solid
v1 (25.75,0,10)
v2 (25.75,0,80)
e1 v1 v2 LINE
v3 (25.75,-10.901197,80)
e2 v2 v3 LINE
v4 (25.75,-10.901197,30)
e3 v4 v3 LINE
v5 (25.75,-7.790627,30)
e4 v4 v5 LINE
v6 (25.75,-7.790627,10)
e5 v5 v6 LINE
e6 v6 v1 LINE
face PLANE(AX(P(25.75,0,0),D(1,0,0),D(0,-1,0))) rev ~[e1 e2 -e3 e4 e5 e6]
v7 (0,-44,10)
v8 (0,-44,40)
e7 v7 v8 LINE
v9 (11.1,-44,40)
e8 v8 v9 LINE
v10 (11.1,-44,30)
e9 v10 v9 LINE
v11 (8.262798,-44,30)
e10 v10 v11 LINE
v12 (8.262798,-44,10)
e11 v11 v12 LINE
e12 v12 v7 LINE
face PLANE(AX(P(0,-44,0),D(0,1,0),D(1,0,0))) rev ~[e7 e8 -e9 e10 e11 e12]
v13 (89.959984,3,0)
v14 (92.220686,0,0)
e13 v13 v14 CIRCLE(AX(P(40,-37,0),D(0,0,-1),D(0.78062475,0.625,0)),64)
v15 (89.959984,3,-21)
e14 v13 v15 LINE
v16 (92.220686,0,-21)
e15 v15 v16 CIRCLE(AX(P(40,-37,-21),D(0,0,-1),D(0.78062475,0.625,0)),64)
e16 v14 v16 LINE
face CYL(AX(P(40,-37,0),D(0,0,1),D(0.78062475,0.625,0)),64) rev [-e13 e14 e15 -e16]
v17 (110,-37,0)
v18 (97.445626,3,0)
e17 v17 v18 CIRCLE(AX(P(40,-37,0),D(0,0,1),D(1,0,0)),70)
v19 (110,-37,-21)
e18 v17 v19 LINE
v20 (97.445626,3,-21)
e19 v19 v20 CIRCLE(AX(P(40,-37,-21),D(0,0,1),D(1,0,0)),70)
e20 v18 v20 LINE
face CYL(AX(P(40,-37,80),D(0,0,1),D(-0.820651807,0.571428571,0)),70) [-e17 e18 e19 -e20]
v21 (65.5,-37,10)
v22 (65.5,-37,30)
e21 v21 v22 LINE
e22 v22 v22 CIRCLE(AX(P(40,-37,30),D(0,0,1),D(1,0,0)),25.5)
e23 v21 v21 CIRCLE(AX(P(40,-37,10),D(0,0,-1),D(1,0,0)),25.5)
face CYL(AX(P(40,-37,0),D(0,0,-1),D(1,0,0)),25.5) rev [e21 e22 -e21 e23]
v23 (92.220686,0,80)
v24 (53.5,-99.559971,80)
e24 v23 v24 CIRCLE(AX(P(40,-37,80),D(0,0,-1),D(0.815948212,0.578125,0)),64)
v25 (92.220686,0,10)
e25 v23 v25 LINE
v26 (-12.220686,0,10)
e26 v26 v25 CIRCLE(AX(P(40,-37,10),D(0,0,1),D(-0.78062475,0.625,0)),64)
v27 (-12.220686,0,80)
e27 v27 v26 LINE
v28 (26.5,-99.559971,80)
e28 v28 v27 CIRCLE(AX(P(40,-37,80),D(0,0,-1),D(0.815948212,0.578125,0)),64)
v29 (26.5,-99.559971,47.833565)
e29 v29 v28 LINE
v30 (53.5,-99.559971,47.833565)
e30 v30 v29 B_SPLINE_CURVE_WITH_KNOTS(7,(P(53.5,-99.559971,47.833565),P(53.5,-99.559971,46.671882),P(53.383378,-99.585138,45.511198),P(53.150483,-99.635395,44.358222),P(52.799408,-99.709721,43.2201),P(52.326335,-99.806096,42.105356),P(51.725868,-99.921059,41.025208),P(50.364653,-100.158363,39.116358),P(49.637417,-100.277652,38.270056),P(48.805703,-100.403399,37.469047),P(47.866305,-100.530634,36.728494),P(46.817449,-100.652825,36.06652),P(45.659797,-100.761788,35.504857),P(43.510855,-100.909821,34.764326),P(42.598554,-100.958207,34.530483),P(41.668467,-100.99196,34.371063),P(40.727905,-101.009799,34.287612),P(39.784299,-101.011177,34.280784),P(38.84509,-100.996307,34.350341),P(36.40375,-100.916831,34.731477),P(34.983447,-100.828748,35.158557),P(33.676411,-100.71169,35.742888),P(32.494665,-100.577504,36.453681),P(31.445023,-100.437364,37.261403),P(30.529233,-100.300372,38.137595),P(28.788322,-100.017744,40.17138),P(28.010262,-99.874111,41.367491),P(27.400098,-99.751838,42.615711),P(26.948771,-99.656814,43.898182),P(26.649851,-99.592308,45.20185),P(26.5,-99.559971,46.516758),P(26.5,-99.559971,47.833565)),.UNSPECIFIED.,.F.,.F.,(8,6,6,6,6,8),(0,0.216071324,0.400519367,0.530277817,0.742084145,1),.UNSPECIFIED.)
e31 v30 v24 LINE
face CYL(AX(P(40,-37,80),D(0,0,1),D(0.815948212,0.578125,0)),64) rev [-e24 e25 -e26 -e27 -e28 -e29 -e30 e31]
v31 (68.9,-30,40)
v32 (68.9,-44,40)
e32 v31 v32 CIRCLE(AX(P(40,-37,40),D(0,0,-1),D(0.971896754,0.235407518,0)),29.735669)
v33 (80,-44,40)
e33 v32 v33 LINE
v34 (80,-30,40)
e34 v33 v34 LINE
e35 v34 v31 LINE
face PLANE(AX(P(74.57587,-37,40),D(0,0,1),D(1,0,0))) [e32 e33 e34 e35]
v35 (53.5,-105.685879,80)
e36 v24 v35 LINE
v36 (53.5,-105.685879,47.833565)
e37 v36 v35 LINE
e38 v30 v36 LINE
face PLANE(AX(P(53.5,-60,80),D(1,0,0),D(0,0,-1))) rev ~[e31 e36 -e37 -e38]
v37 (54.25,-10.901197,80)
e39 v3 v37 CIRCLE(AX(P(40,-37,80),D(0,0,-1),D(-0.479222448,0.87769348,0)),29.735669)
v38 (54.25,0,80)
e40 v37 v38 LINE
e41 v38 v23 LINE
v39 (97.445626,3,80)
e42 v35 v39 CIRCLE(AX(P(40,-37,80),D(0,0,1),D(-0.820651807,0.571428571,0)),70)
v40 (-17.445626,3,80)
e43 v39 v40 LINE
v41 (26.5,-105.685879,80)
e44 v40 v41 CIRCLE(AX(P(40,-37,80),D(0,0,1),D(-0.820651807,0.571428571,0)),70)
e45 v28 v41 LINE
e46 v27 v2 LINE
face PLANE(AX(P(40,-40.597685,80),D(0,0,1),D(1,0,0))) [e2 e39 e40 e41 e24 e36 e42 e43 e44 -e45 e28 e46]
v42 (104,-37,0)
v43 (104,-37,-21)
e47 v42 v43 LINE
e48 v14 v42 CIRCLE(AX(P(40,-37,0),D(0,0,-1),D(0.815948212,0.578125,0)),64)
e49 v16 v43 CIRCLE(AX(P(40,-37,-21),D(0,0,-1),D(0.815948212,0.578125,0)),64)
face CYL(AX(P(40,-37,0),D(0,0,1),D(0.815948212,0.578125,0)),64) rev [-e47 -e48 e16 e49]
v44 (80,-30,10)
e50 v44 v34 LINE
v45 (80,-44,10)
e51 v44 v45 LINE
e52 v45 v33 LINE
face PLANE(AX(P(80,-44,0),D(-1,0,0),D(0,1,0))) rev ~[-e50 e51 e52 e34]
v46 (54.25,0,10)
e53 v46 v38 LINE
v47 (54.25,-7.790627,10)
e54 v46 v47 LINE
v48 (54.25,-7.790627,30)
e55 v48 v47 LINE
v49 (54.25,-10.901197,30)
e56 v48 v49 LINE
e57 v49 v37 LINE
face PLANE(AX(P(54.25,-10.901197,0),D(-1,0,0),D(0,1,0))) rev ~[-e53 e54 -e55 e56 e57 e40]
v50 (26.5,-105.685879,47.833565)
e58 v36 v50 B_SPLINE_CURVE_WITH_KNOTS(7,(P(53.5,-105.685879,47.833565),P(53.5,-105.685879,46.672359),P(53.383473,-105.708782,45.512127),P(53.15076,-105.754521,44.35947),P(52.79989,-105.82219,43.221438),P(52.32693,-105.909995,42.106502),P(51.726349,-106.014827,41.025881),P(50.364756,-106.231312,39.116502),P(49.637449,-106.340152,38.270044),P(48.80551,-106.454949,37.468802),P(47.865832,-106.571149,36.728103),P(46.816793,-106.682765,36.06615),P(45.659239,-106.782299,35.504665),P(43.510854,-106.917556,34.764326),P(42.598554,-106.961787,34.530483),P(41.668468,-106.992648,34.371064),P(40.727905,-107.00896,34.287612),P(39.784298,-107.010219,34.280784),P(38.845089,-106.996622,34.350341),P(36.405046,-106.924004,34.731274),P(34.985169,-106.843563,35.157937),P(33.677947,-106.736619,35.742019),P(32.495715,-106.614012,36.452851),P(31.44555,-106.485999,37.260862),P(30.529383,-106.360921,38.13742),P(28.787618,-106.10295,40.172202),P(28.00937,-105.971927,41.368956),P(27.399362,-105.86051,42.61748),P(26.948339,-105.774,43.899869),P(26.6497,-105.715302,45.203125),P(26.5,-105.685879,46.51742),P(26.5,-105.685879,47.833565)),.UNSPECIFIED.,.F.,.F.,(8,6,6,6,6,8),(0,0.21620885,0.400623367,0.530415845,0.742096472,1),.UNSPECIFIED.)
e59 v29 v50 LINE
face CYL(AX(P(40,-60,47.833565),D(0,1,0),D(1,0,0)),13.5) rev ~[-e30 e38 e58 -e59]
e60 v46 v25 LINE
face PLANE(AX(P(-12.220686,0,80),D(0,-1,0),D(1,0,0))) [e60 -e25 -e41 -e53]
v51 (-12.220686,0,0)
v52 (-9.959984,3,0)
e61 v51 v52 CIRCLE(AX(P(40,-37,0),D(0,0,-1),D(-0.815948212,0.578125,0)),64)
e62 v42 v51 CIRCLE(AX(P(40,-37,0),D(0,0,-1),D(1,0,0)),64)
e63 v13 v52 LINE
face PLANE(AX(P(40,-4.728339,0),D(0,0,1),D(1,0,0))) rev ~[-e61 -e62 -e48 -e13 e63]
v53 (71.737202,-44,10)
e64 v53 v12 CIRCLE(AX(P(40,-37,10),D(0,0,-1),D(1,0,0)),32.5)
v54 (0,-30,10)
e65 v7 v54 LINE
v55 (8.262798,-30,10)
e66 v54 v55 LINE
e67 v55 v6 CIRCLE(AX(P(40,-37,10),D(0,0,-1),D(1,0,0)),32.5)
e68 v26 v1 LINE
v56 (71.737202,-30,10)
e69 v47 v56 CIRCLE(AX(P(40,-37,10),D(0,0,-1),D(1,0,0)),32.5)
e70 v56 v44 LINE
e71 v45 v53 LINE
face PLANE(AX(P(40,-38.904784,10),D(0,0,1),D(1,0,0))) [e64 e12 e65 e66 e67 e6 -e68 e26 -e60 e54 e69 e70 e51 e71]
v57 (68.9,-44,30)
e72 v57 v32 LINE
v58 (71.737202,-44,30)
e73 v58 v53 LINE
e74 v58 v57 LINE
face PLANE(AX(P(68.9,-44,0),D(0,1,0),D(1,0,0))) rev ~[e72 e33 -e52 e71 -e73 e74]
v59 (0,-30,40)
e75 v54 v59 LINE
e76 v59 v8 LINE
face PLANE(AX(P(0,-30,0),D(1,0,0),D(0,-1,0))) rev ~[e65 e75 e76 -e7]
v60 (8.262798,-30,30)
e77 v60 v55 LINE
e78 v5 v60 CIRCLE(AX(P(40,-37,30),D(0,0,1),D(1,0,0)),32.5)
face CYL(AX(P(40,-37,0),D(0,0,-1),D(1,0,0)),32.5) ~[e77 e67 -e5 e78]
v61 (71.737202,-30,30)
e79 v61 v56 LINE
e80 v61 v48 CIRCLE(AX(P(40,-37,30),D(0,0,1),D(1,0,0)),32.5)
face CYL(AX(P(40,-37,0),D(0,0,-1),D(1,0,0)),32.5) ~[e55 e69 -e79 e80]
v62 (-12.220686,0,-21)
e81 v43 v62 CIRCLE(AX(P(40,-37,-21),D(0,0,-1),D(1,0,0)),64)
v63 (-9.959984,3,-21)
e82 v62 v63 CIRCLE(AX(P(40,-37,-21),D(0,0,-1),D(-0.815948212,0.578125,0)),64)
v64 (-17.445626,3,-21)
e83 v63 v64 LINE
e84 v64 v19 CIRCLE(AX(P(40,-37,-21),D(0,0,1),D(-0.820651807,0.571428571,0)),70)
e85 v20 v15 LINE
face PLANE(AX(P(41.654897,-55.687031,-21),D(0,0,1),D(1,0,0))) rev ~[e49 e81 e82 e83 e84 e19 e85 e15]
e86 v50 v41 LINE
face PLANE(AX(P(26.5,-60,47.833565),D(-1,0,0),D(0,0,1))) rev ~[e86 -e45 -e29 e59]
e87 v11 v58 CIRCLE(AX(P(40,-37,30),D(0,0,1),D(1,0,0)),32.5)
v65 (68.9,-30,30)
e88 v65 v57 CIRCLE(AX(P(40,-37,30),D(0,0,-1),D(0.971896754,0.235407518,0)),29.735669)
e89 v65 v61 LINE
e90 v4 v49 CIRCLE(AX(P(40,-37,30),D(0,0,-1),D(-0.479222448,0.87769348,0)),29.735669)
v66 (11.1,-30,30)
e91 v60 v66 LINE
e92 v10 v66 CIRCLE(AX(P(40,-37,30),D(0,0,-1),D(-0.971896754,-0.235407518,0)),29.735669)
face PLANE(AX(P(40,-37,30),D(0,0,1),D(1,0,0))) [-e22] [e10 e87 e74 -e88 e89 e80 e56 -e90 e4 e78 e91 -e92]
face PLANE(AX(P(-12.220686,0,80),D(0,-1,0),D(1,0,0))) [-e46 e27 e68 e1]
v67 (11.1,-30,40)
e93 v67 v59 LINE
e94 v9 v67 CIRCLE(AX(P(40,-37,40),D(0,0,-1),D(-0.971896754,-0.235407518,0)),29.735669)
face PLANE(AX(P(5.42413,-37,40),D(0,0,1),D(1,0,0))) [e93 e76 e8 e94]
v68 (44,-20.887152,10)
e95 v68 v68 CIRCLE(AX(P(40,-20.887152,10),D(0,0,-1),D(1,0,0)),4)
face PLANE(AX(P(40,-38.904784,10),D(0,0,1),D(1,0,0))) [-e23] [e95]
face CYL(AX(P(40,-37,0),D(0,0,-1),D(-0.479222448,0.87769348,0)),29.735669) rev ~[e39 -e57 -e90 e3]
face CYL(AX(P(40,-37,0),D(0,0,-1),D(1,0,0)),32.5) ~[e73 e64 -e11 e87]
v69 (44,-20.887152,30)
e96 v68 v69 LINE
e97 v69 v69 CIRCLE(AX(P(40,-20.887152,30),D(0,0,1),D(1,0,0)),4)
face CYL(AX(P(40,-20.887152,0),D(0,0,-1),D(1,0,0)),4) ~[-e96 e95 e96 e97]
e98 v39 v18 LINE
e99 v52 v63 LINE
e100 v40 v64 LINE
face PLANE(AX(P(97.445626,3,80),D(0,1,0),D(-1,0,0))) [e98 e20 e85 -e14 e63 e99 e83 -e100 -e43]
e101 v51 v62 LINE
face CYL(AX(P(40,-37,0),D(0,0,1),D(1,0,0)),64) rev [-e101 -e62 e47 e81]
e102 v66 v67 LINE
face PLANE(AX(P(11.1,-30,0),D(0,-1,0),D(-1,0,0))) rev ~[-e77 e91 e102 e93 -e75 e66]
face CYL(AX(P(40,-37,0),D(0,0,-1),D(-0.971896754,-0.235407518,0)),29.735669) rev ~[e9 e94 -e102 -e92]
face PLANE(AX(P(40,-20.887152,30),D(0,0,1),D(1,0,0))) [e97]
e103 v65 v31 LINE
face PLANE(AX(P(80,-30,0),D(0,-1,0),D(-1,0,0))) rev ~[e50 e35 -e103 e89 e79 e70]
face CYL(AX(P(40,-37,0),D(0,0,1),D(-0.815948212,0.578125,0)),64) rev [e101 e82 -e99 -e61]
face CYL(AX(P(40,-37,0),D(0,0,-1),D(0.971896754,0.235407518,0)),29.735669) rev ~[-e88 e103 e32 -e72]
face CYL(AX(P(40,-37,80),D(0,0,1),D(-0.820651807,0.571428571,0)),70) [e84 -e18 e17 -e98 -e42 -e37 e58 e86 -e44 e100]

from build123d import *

# Parameters (mm, degrees)
BOSS_EXTRUDE1_DEPTH = 21
BOSS_EXTRUDE2_DEPTH = 10
SKETCH1_30_R        = 32.5
SKETCH1_30_R_2      = 25.5
SKETCH1_30_R_3      = 4
BOSS_EXTRUDE3_DEPTH = 30
BOSS_EXTRUDE5_DEPTH = 40
BOSS_EXTRUDE6_DEPTH = 80
BOSS_EXTRUDE7_START = 80
BOSS_EXTRUDE7_DEPTH = 80
CUT_EXTRUDE2_DEPTH  = 99


with BuildPart() as part:
    # Sketch1 → Boss-Extrude1 (new body)
    with BuildSketch(Plane.XY):
        with BuildLine():
            ThreePointArc((89.959983987, 3), (91.112349849, 1.51658984), (92.220685557, 0))
            ThreePointArc((92.220685557, 0), (100.984112175, -17.585107206), (104, -37))
            ThreePointArc((104, -37), (20.585107206, -97.984112175), (-12.220685557, 0))
            ThreePointArc((-12.220685557, 0), (-11.112349849, 1.51658984), (-9.959983987, 3))
            Line((-9.959983987, 3), (-17.445626465, 3))
            ThreePointArc((-17.445626465, 3), (19.038056538, -103.787700412), (110, -37))
            ThreePointArc((110, -37), (106.787700412, -16.038056538), (97.445626465, 3))
            Line((97.445626465, 3), (89.959983987, 3))
        make_face()
    extrude(amount=-BOSS_EXTRUDE1_DEPTH)



with BuildPart() as body_2:
    # Sketch1<29> → Boss-Extrude2 (new body)
    with BuildSketch(Plane.XY):
        with BuildLine():
            Line((89.959983987, 3), (-9.959983987, 3))
            ThreePointArc((-9.959983987, 3), (40, -101), (89.959983987, 3))
        make_face()
    extrude(amount=BOSS_EXTRUDE2_DEPTH)

    # Sketch1<30> → Boss-Extrude3 (add)
    # profile 1 of 2: a face of its own
    with BuildSketch(Plane.XY):
        with Locations((40, -37)):
            Circle(SKETCH1_30_R)
        with Locations((40, -37)):
            Circle(SKETCH1_30_R_2, mode=Mode.SUBTRACT)
    # profile 2 of 2: a face of its own
    with BuildSketch(Plane.XY):
        with Locations((40, -20.887152182)):
            Circle(SKETCH1_30_R_3)
    extrude(amount=BOSS_EXTRUDE3_DEPTH)

    # Sketch1<33> → Boss-Extrude5 (add)
    with BuildSketch(Plane.XY):
        with BuildLine():
            Line((80, -44), (80, -30))
            Line((80, -30), (68.9, -30))
            ThreePointArc((68.9, -30), (69.735668817, -37), (68.9, -44))
            Line((68.9, -44), (80, -44))
        make_face()
        with BuildLine():
            Line((0, -44), (11.1, -44))
            ThreePointArc((11.1, -44), (10.264331183, -37), (11.1, -30))
            Line((11.1, -30), (0, -30))
            Line((0, -30), (0, -44))
        make_face()
    extrude(amount=BOSS_EXTRUDE5_DEPTH)

    # Sketch1<34> → Boss-Extrude6 (add)
    with BuildSketch(Plane.XY):
        with BuildLine():
            Line((54.25, 0), (25.75, 0))
            Line((25.75, 0), (25.75, -10.901197345))
            ThreePointArc((25.75, -10.901197345), (40, -7.264331183), (54.25, -10.901197345))
            Line((54.25, -10.901197345), (54.25, 0))
        make_face()
    extrude(amount=BOSS_EXTRUDE6_DEPTH)


with BuildPart() as part_1:
    add(part.part)

    add(body_2.part)  # Boss-Extrude7 merges body 2
    # Sketch1<35> → Boss-Extrude7 (add)
    with BuildSketch(Plane.XY.offset(BOSS_EXTRUDE7_START)):
        with BuildLine():
            ThreePointArc((-17.445626465, 3), (40, -107), (97.445626465, 3))
            Line((97.445626465, 3), (-17.445626465, 3))
        make_face()
        with BuildLine():
            ThreePointArc((92.220685557, 0), (40, -101), (-12.220685557, 0))
            Line((-12.220685557, 0), (92.220685557, 0))
        make_face(mode=Mode.SUBTRACT)
    extrude(amount=-BOSS_EXTRUDE7_DEPTH)

    # Sketch4 → Cut-Extrude2 (cut)
    with BuildSketch(Plane(origin=(0, -60, 0), x_dir=(-1, 0, 0), z_dir=(0, -1, 0))):
        with BuildLine():
            Line((-53.5, -80), (-53.5, -47.833564603))
            ThreePointArc((-53.5, -47.833564603), (-40, -34.333564603), (-26.5, -47.833564603))
            Line((-26.5, -47.833564603), (-26.5, -80))
            ThreePointArc((-26.5, -80), (-40, -93.5), (-53.5, -80))
        make_face()
    extrude(amount=CUT_EXTRUDE2_DEPTH, mode=Mode.SUBTRACT)


solid = part_1.part
